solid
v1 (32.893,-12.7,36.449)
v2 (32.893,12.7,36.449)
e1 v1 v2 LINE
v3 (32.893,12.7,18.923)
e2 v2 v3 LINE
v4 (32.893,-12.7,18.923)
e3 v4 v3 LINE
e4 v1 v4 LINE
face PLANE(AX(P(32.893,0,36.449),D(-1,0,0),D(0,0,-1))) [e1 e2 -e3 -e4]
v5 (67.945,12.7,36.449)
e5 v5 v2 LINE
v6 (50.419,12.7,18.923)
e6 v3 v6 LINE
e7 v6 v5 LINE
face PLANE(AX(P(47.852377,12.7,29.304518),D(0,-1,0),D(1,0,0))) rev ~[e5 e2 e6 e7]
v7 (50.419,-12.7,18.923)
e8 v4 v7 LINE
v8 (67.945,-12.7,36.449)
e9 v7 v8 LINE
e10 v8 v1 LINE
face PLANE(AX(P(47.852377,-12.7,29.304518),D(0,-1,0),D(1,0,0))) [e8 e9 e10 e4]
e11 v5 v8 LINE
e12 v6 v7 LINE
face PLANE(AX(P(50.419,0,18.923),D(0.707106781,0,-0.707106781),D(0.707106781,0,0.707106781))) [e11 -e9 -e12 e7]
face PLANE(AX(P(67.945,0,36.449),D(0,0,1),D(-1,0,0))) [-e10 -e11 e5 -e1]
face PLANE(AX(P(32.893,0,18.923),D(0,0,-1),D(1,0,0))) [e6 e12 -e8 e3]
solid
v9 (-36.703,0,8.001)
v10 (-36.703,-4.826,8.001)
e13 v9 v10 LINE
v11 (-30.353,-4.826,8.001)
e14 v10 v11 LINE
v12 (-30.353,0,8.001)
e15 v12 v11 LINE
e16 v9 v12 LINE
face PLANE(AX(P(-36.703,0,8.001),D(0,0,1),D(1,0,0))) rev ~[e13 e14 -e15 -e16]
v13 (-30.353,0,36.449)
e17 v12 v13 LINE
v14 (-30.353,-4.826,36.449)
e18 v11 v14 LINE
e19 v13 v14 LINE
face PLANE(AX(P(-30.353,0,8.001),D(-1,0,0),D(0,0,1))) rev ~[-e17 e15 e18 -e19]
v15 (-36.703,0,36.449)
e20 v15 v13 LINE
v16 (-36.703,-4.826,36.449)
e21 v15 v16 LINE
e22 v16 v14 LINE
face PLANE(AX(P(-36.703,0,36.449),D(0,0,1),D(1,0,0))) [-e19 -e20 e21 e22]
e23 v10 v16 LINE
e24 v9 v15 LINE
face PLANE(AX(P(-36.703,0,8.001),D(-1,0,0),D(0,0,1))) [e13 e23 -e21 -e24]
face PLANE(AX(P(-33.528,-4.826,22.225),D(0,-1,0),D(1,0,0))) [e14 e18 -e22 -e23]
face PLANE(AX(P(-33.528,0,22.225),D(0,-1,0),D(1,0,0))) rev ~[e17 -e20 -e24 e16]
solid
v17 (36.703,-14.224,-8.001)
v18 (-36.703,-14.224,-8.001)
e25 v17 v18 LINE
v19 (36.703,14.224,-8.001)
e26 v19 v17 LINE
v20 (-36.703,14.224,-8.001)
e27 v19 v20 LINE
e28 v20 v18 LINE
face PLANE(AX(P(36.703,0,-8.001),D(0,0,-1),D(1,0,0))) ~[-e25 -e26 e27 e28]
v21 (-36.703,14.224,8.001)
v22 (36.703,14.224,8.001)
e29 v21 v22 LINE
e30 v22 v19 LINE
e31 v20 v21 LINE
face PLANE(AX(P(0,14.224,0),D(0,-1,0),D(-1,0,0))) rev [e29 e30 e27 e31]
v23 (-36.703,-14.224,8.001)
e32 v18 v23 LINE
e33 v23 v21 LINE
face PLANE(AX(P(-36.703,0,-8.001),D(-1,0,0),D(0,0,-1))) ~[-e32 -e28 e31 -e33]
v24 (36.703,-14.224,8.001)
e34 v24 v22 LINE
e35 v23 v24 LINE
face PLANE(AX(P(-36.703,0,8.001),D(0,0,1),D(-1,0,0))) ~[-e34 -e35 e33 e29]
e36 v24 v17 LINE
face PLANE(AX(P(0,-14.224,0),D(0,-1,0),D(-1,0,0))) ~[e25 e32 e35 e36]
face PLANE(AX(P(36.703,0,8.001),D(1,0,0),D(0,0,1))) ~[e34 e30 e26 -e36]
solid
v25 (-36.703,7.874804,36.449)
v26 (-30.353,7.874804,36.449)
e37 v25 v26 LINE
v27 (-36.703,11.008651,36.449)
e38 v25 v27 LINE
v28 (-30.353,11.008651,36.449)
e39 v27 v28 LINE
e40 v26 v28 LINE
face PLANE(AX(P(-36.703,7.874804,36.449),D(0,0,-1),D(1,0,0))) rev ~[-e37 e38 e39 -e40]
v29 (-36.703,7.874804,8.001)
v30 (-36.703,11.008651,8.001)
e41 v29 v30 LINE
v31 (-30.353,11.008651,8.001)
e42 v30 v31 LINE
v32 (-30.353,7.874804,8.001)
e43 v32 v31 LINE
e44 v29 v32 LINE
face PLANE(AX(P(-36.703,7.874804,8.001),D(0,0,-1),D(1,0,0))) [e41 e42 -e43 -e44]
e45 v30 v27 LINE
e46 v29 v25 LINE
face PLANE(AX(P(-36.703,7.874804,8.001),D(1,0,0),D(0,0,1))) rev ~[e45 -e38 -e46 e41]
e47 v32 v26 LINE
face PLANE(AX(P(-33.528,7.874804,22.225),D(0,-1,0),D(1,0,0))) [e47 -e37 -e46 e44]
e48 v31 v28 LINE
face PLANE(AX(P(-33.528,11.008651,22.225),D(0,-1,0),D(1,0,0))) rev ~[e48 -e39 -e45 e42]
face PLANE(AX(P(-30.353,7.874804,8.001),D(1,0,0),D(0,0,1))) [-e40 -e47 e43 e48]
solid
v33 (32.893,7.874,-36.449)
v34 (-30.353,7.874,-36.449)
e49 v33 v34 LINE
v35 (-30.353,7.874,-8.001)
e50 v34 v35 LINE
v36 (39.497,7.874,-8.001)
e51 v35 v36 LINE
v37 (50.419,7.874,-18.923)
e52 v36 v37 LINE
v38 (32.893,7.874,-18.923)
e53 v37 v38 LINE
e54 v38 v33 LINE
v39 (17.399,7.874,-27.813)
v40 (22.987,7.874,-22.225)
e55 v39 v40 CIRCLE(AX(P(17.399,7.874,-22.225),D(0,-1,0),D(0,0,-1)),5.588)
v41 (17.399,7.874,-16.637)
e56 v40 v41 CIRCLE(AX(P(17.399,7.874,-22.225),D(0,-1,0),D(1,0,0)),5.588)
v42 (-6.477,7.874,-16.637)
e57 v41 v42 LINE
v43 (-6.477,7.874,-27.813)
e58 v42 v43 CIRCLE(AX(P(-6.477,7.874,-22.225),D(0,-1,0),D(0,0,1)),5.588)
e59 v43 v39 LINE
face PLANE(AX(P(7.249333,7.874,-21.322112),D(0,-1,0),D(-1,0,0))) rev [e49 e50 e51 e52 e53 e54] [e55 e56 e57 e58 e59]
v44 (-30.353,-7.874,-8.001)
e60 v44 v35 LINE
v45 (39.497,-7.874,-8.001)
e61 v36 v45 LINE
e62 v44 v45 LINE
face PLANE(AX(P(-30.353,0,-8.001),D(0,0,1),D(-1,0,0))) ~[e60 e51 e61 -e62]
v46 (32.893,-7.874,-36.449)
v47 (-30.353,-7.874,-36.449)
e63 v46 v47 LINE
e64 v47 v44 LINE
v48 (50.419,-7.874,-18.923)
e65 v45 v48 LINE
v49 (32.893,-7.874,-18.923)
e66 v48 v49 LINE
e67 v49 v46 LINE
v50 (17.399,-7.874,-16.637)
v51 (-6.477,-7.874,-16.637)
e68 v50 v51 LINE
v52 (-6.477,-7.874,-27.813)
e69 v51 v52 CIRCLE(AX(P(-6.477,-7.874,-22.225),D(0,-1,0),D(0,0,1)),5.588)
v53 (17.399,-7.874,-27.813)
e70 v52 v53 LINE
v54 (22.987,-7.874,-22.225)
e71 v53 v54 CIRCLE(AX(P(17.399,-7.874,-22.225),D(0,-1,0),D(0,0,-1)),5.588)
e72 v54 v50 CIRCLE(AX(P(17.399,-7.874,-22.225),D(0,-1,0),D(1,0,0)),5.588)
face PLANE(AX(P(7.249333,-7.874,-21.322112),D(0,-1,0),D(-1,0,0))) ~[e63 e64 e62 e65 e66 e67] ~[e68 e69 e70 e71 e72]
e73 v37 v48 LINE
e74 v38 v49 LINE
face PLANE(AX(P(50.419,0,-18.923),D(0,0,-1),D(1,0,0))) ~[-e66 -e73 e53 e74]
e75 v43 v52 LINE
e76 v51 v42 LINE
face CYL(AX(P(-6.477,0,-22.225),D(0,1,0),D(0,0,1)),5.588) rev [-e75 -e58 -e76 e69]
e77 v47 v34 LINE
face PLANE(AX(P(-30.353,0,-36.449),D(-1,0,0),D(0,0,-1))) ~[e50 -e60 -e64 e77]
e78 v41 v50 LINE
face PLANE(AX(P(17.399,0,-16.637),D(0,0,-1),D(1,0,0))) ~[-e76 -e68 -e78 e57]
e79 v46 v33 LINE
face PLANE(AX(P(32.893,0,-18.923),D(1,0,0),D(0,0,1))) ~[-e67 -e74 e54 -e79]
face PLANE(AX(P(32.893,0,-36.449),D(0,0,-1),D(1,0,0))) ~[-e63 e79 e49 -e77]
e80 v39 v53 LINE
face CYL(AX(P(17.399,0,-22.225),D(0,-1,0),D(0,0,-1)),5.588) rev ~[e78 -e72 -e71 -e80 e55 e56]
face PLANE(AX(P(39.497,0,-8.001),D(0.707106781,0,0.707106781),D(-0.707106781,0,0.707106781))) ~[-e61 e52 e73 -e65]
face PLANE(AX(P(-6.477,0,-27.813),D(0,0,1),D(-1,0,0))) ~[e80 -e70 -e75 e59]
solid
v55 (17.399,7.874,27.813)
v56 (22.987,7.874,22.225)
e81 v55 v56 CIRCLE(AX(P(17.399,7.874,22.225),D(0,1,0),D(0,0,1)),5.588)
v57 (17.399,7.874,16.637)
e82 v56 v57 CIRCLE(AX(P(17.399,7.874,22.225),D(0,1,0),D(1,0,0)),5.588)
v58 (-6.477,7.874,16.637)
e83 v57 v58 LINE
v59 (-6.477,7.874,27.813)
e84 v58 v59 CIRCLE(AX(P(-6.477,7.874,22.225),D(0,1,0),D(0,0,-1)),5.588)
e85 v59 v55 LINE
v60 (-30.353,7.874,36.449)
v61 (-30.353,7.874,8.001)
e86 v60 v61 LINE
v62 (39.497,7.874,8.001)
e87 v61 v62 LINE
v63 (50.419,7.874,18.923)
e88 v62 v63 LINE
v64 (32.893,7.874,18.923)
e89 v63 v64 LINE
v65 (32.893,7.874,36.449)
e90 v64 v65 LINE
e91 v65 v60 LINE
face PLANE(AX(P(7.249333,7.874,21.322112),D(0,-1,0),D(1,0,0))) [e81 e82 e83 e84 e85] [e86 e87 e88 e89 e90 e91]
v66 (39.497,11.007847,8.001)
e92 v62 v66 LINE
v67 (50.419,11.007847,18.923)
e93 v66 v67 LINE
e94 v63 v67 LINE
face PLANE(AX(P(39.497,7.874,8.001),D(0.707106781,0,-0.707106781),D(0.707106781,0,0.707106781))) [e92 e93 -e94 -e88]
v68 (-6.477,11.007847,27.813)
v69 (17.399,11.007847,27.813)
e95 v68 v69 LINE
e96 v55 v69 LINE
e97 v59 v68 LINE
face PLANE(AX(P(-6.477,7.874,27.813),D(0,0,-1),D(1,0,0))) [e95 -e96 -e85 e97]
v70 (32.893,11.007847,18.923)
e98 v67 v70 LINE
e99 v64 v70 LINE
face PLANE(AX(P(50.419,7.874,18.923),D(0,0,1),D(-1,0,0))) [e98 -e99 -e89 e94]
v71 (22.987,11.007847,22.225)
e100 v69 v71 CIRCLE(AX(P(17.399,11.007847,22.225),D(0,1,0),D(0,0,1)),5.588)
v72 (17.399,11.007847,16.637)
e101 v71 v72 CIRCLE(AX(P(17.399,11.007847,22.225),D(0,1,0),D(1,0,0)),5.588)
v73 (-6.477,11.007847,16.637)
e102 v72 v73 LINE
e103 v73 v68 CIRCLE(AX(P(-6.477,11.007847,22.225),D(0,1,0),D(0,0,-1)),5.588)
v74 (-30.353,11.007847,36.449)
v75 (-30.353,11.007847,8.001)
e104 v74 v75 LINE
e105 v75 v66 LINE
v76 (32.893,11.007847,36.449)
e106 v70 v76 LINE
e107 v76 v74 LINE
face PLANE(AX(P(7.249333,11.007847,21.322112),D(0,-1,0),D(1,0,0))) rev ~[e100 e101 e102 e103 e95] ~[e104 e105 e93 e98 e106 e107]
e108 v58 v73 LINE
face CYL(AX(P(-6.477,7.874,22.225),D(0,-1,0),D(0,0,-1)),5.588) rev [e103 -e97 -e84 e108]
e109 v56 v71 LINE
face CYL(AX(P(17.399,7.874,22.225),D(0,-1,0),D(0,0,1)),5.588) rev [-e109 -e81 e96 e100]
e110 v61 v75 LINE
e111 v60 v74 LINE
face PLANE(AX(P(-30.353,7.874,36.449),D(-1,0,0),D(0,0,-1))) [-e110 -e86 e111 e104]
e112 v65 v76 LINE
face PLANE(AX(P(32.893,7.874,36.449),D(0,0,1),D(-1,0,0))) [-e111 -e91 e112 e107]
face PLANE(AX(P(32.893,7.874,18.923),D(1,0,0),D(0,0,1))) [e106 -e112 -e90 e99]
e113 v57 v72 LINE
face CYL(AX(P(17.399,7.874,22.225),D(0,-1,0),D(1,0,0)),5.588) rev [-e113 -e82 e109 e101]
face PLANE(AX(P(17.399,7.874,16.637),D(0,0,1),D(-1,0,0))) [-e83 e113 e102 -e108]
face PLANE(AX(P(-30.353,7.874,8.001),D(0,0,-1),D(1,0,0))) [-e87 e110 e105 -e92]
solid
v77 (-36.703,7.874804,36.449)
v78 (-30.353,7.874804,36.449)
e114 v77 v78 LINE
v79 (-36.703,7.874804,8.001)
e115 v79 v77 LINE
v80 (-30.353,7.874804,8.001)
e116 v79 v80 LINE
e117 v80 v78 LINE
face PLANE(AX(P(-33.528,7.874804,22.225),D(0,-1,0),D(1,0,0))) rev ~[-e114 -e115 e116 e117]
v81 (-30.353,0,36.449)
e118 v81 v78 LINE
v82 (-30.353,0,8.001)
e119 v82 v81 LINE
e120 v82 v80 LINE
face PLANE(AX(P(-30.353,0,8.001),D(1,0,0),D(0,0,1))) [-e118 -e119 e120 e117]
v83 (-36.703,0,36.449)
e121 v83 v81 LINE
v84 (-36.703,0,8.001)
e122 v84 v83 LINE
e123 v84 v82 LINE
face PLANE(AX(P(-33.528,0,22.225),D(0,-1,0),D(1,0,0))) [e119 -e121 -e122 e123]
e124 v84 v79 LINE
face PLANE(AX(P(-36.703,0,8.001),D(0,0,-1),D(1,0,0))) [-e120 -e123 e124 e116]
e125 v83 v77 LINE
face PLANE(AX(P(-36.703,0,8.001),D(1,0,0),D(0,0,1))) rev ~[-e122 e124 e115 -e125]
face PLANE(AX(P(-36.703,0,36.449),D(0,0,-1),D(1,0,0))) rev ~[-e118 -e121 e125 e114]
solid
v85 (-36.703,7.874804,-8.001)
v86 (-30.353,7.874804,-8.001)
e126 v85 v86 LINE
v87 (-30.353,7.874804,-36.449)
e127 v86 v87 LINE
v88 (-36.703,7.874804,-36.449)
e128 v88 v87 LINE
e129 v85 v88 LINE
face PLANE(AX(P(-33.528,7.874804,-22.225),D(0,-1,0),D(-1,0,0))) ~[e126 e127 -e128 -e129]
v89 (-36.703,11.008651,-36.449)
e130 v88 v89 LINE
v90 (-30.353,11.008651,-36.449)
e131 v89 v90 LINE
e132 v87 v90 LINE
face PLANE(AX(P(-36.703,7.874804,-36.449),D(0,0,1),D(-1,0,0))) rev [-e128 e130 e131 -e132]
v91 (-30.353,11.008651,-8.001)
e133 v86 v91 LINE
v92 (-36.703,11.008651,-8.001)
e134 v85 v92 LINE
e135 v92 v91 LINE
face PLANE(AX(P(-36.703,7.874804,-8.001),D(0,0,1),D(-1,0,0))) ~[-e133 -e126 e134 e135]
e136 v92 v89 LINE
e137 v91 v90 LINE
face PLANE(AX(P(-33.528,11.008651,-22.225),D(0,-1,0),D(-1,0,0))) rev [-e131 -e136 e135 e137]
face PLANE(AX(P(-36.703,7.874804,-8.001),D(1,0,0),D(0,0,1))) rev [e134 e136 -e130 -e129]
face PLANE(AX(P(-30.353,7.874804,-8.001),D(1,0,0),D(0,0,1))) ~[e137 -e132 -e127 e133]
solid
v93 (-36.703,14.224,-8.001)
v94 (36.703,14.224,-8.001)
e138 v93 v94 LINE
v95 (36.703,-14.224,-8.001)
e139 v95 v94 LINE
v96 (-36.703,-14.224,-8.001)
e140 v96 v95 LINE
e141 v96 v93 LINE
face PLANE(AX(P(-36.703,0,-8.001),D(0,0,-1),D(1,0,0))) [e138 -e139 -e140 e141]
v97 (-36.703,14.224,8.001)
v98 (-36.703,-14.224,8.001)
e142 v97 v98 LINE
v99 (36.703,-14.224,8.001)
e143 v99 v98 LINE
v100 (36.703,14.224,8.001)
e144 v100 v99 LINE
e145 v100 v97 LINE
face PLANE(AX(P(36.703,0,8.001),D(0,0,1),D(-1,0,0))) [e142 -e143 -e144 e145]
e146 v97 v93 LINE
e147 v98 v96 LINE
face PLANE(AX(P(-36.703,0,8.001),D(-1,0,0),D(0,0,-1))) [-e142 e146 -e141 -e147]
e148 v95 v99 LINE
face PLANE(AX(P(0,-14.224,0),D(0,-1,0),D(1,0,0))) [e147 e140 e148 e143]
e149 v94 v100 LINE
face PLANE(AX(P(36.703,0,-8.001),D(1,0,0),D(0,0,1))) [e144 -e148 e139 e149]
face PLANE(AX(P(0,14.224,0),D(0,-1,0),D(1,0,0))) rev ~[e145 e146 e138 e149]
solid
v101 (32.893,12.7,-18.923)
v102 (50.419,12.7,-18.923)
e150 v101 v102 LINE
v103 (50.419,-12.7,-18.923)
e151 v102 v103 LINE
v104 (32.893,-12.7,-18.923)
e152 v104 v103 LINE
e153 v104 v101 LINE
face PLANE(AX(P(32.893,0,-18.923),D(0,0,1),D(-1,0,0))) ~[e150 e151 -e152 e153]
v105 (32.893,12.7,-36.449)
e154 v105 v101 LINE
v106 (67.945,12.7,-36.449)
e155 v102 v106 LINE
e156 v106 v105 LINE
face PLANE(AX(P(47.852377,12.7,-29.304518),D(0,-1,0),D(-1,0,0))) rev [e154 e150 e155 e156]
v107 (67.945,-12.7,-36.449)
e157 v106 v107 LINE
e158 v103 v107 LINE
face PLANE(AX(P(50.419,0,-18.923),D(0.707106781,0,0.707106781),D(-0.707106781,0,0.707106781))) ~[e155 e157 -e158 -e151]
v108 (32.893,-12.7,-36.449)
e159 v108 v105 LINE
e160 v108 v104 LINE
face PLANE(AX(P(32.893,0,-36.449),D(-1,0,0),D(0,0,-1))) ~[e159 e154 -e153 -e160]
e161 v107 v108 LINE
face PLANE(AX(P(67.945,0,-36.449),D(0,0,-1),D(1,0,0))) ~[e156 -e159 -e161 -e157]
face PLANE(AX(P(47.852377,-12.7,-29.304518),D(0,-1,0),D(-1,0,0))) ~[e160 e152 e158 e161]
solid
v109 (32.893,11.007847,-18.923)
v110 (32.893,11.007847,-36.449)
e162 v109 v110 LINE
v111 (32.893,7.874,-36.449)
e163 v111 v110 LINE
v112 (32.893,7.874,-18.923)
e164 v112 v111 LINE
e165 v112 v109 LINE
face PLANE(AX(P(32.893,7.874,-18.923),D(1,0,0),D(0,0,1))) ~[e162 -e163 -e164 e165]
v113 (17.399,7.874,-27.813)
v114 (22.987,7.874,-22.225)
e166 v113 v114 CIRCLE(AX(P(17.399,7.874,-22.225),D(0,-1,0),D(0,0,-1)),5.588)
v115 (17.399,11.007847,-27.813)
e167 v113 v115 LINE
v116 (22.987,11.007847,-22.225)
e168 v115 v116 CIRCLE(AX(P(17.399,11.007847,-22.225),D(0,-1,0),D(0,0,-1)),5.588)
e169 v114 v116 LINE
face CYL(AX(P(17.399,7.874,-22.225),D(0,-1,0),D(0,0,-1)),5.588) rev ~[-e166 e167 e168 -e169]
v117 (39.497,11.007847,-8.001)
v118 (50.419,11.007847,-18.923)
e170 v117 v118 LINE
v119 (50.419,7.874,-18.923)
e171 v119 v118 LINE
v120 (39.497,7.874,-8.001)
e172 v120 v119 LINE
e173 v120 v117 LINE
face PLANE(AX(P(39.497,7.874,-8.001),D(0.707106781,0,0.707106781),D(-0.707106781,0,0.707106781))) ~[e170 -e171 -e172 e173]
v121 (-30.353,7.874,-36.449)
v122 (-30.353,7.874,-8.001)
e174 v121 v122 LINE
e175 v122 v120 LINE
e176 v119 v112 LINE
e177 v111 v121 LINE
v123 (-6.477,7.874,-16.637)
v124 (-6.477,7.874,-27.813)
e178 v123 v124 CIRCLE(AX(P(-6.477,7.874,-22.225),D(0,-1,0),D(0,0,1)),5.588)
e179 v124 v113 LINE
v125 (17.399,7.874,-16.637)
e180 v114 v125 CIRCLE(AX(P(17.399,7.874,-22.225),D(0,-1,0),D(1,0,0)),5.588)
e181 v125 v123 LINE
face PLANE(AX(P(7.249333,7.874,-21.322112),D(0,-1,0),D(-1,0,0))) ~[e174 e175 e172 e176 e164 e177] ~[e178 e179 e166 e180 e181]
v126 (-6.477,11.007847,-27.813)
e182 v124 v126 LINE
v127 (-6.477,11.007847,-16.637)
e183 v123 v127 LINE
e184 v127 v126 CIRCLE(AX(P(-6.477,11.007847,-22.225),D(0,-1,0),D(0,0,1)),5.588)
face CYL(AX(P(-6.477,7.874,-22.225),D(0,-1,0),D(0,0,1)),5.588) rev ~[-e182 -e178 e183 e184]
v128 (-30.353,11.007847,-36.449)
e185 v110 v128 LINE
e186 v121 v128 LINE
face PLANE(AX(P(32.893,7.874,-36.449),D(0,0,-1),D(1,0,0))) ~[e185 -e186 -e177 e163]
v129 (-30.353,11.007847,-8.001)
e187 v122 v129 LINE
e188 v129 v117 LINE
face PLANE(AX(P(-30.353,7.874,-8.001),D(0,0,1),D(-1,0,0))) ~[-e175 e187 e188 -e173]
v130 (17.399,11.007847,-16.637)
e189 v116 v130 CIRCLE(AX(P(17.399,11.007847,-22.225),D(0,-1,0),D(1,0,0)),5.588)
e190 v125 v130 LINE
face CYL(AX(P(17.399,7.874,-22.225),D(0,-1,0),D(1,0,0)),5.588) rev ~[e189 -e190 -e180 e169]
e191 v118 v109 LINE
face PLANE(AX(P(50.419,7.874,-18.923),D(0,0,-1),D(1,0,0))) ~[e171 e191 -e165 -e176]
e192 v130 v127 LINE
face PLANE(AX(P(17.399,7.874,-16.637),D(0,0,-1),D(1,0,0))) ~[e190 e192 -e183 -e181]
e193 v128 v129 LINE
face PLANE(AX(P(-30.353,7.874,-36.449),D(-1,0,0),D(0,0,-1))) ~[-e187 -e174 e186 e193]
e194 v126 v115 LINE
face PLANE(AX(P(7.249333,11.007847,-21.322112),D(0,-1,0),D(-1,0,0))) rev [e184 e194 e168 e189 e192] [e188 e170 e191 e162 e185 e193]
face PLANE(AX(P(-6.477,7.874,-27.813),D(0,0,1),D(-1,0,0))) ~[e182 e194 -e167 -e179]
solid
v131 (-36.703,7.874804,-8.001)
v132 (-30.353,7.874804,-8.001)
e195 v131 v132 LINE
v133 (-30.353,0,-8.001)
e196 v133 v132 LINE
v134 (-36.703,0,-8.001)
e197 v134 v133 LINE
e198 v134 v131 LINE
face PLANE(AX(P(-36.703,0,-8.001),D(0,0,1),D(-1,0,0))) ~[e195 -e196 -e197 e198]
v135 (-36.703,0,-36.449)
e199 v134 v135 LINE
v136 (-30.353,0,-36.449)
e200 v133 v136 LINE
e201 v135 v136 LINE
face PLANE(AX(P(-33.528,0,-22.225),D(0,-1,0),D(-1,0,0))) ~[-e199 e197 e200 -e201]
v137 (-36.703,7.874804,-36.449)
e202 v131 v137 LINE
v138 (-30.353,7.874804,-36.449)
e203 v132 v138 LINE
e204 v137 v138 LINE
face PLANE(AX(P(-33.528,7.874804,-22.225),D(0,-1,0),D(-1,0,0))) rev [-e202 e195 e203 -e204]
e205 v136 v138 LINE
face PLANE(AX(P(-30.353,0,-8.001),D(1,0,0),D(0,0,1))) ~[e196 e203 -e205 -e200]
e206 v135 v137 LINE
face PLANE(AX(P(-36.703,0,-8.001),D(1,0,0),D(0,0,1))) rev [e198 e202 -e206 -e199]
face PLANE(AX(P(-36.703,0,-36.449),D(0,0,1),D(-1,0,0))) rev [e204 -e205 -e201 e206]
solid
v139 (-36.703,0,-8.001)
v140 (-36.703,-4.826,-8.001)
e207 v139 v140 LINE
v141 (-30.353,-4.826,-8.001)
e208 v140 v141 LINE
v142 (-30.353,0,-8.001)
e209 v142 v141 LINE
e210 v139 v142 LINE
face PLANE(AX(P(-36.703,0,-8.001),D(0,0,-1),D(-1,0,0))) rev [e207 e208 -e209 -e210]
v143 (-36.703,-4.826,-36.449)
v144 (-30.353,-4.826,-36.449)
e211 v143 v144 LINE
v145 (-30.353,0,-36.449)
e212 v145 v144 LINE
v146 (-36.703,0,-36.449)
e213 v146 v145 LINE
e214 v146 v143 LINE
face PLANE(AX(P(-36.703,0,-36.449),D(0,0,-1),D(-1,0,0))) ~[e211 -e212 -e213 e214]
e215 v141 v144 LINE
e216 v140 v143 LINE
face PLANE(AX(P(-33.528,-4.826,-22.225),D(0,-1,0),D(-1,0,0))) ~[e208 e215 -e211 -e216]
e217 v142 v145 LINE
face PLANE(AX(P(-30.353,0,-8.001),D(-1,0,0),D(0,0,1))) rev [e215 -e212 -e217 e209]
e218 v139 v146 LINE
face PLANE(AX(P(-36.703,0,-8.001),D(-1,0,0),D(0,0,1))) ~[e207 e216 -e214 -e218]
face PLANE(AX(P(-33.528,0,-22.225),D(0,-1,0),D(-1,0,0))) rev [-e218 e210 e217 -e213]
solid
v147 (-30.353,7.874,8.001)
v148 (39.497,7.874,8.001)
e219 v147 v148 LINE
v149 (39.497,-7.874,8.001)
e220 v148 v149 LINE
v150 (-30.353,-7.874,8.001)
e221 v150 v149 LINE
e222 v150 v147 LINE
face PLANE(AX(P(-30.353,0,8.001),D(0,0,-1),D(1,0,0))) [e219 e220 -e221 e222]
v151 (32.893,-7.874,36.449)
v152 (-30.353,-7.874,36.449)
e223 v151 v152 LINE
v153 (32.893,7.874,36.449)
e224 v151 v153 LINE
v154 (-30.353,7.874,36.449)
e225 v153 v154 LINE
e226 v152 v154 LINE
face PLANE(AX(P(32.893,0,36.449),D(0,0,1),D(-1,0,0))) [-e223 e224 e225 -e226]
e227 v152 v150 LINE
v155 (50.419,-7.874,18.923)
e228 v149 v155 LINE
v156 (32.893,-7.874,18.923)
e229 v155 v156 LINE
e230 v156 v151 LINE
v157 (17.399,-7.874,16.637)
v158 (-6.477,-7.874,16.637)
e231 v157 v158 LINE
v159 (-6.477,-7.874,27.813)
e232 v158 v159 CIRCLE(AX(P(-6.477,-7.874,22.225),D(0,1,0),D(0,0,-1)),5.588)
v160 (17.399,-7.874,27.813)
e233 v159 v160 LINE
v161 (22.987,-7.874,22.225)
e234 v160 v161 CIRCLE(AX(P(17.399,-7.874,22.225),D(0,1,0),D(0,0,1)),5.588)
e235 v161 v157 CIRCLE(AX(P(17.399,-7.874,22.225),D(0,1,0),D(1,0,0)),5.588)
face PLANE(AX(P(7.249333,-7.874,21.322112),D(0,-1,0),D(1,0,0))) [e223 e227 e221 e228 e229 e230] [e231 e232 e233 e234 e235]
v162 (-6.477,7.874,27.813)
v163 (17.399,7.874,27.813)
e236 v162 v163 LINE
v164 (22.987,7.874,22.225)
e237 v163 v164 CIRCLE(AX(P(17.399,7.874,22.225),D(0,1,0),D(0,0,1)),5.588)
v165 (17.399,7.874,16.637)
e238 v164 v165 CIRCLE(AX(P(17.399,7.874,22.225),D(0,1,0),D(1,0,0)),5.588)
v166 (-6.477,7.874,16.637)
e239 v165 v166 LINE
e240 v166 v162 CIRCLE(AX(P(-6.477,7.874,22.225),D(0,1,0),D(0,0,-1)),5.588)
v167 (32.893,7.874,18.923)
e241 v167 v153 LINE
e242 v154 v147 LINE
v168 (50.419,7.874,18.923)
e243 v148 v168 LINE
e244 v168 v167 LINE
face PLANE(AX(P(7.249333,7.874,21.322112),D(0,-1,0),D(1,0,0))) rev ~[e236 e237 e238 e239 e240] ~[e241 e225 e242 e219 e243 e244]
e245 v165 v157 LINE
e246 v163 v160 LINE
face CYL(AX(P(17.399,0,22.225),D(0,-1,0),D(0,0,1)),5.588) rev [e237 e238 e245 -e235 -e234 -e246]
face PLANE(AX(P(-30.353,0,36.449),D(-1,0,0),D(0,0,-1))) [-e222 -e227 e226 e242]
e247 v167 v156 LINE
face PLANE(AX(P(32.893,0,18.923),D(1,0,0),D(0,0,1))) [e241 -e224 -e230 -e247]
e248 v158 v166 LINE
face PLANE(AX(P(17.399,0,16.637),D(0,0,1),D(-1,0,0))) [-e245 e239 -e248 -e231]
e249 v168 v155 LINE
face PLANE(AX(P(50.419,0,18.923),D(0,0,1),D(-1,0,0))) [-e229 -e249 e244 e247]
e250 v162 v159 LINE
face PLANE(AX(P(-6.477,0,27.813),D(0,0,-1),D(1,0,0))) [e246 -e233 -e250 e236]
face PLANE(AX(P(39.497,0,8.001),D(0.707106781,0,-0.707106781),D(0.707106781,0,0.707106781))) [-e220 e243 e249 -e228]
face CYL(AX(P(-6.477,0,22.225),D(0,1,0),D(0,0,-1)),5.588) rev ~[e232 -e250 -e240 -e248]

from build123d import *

# Parameters (mm, degrees)
F1_DEPTH = 12.7
F2_DEPTH = 14.224
F3_DEPTH = 7.874
F0_W     = 6.35
F0_H     = 28.448
F4_DEPTH = 4.826
F5_DEPTH = 7.8748036176
F6_DEPTH = 3.1338469125


with BuildPart() as f1:
    # F0 (on Front) → F1 (new body, symmetric)
    with BuildSketch(Plane.XZ):
        Polygon((32.893, 18.923), (50.419, 18.923), (67.945, 36.449), (32.893, 36.449), align=None)
    extrude(amount=F1_DEPTH, both=True)


with BuildPart() as f2:
    # F0 (on Front) → F2 (new body, symmetric)
    with BuildSketch(Plane.XZ):
        Polygon((36.703, -8.001), (36.703, 8.001), (-30.353, 8.001), (-36.703, 8.001), (-36.703, -8.001), align=None)
    extrude(amount=F2_DEPTH, both=True)


with BuildPart() as f3:
    # F0 (on Front) → F3 (new body, symmetric)
    with BuildSketch(Plane.XZ):
        Polygon((-30.353, 8.001), (36.703, 8.001), (39.497, 8.001), (50.419, 18.923), (32.893, 18.923), (32.893, 36.449), (-30.353, 36.449), align=None)
        with BuildLine():
            ThreePointArc((-6.477, 16.637), (-12.065, 22.225), (-6.477, 27.813))
            Line((-6.477, 27.813), (17.399, 27.813))
            ThreePointArc((17.399, 27.813), (21.3503126933, 26.1763126933), (22.987, 22.225))
            ThreePointArc((22.987, 22.225), (21.3503126933, 18.2736873067), (17.399, 16.637))
            Line((17.399, 16.637), (-6.477, 16.637))
        make_face(mode=Mode.SUBTRACT)
    extrude(amount=F3_DEPTH, both=True)


with BuildPart() as f4:
    # F0 (on Front) → F4 (new body)
    with BuildSketch(Plane.XZ):
        with Locations((-33.528, 22.225)):
            Rectangle(F0_W, F0_H)
    extrude(amount=F4_DEPTH)


with BuildPart() as f5:
    # F0 (on Front) → F5 (new body)
    with BuildSketch(Plane.XZ):
        with Locations((-33.528, 22.225)):
            Rectangle(F0_W, F0_H)
    extrude(amount=-F5_DEPTH)


with BuildPart() as f6:
    # F6 (new): a face of the model
    f6_faces = [f5.part.faces().sort_by_distance(p)[0] for p in [
        (-33.528, 7.8748036176, 22.225),
    ]]
    extrude(f6_faces, amount=F6_DEPTH)


with BuildPart() as f6b:
    # F6#2 (new): a face of the model
    f6_2_faces = [f3.part.faces().sort_by_distance(p)[0] for p in [
        (4.572, 7.874, 8.8573530048),
    ]]
    extrude(f6_2_faces, amount=F6_DEPTH)


with BuildPart() as f7_1:
    # F7: instance of F2
    add(f2.part.mirror(Plane.XY))


with BuildPart() as f7_2:
    # F7: instance of F3
    add(f3.part.mirror(Plane.XY))


with BuildPart() as f7_3:
    # F7: instance of F4
    add(f4.part.mirror(Plane.XY))


with BuildPart() as f7_4:
    # F7: instance of F5
    add(f5.part.mirror(Plane.XY))


with BuildPart() as f7_5:
    # F7: instance of F6
    add(f6.part.mirror(Plane.XY))


with BuildPart() as f7_6:
    # F7: instance of F6b
    add(f6b.part.mirror(Plane.XY))


with BuildPart() as f7_7:
    # F7: instance of F1
    add(f1.part.mirror(Plane.XY))


solid = Compound([f1.part, f2.part, f3.part, f4.part, f5.part, f6.part, f6b.part, f7_1.part, f7_2.part, f7_3.part, f7_4.part, f7_5.part, f7_6.part, f7_7.part])
